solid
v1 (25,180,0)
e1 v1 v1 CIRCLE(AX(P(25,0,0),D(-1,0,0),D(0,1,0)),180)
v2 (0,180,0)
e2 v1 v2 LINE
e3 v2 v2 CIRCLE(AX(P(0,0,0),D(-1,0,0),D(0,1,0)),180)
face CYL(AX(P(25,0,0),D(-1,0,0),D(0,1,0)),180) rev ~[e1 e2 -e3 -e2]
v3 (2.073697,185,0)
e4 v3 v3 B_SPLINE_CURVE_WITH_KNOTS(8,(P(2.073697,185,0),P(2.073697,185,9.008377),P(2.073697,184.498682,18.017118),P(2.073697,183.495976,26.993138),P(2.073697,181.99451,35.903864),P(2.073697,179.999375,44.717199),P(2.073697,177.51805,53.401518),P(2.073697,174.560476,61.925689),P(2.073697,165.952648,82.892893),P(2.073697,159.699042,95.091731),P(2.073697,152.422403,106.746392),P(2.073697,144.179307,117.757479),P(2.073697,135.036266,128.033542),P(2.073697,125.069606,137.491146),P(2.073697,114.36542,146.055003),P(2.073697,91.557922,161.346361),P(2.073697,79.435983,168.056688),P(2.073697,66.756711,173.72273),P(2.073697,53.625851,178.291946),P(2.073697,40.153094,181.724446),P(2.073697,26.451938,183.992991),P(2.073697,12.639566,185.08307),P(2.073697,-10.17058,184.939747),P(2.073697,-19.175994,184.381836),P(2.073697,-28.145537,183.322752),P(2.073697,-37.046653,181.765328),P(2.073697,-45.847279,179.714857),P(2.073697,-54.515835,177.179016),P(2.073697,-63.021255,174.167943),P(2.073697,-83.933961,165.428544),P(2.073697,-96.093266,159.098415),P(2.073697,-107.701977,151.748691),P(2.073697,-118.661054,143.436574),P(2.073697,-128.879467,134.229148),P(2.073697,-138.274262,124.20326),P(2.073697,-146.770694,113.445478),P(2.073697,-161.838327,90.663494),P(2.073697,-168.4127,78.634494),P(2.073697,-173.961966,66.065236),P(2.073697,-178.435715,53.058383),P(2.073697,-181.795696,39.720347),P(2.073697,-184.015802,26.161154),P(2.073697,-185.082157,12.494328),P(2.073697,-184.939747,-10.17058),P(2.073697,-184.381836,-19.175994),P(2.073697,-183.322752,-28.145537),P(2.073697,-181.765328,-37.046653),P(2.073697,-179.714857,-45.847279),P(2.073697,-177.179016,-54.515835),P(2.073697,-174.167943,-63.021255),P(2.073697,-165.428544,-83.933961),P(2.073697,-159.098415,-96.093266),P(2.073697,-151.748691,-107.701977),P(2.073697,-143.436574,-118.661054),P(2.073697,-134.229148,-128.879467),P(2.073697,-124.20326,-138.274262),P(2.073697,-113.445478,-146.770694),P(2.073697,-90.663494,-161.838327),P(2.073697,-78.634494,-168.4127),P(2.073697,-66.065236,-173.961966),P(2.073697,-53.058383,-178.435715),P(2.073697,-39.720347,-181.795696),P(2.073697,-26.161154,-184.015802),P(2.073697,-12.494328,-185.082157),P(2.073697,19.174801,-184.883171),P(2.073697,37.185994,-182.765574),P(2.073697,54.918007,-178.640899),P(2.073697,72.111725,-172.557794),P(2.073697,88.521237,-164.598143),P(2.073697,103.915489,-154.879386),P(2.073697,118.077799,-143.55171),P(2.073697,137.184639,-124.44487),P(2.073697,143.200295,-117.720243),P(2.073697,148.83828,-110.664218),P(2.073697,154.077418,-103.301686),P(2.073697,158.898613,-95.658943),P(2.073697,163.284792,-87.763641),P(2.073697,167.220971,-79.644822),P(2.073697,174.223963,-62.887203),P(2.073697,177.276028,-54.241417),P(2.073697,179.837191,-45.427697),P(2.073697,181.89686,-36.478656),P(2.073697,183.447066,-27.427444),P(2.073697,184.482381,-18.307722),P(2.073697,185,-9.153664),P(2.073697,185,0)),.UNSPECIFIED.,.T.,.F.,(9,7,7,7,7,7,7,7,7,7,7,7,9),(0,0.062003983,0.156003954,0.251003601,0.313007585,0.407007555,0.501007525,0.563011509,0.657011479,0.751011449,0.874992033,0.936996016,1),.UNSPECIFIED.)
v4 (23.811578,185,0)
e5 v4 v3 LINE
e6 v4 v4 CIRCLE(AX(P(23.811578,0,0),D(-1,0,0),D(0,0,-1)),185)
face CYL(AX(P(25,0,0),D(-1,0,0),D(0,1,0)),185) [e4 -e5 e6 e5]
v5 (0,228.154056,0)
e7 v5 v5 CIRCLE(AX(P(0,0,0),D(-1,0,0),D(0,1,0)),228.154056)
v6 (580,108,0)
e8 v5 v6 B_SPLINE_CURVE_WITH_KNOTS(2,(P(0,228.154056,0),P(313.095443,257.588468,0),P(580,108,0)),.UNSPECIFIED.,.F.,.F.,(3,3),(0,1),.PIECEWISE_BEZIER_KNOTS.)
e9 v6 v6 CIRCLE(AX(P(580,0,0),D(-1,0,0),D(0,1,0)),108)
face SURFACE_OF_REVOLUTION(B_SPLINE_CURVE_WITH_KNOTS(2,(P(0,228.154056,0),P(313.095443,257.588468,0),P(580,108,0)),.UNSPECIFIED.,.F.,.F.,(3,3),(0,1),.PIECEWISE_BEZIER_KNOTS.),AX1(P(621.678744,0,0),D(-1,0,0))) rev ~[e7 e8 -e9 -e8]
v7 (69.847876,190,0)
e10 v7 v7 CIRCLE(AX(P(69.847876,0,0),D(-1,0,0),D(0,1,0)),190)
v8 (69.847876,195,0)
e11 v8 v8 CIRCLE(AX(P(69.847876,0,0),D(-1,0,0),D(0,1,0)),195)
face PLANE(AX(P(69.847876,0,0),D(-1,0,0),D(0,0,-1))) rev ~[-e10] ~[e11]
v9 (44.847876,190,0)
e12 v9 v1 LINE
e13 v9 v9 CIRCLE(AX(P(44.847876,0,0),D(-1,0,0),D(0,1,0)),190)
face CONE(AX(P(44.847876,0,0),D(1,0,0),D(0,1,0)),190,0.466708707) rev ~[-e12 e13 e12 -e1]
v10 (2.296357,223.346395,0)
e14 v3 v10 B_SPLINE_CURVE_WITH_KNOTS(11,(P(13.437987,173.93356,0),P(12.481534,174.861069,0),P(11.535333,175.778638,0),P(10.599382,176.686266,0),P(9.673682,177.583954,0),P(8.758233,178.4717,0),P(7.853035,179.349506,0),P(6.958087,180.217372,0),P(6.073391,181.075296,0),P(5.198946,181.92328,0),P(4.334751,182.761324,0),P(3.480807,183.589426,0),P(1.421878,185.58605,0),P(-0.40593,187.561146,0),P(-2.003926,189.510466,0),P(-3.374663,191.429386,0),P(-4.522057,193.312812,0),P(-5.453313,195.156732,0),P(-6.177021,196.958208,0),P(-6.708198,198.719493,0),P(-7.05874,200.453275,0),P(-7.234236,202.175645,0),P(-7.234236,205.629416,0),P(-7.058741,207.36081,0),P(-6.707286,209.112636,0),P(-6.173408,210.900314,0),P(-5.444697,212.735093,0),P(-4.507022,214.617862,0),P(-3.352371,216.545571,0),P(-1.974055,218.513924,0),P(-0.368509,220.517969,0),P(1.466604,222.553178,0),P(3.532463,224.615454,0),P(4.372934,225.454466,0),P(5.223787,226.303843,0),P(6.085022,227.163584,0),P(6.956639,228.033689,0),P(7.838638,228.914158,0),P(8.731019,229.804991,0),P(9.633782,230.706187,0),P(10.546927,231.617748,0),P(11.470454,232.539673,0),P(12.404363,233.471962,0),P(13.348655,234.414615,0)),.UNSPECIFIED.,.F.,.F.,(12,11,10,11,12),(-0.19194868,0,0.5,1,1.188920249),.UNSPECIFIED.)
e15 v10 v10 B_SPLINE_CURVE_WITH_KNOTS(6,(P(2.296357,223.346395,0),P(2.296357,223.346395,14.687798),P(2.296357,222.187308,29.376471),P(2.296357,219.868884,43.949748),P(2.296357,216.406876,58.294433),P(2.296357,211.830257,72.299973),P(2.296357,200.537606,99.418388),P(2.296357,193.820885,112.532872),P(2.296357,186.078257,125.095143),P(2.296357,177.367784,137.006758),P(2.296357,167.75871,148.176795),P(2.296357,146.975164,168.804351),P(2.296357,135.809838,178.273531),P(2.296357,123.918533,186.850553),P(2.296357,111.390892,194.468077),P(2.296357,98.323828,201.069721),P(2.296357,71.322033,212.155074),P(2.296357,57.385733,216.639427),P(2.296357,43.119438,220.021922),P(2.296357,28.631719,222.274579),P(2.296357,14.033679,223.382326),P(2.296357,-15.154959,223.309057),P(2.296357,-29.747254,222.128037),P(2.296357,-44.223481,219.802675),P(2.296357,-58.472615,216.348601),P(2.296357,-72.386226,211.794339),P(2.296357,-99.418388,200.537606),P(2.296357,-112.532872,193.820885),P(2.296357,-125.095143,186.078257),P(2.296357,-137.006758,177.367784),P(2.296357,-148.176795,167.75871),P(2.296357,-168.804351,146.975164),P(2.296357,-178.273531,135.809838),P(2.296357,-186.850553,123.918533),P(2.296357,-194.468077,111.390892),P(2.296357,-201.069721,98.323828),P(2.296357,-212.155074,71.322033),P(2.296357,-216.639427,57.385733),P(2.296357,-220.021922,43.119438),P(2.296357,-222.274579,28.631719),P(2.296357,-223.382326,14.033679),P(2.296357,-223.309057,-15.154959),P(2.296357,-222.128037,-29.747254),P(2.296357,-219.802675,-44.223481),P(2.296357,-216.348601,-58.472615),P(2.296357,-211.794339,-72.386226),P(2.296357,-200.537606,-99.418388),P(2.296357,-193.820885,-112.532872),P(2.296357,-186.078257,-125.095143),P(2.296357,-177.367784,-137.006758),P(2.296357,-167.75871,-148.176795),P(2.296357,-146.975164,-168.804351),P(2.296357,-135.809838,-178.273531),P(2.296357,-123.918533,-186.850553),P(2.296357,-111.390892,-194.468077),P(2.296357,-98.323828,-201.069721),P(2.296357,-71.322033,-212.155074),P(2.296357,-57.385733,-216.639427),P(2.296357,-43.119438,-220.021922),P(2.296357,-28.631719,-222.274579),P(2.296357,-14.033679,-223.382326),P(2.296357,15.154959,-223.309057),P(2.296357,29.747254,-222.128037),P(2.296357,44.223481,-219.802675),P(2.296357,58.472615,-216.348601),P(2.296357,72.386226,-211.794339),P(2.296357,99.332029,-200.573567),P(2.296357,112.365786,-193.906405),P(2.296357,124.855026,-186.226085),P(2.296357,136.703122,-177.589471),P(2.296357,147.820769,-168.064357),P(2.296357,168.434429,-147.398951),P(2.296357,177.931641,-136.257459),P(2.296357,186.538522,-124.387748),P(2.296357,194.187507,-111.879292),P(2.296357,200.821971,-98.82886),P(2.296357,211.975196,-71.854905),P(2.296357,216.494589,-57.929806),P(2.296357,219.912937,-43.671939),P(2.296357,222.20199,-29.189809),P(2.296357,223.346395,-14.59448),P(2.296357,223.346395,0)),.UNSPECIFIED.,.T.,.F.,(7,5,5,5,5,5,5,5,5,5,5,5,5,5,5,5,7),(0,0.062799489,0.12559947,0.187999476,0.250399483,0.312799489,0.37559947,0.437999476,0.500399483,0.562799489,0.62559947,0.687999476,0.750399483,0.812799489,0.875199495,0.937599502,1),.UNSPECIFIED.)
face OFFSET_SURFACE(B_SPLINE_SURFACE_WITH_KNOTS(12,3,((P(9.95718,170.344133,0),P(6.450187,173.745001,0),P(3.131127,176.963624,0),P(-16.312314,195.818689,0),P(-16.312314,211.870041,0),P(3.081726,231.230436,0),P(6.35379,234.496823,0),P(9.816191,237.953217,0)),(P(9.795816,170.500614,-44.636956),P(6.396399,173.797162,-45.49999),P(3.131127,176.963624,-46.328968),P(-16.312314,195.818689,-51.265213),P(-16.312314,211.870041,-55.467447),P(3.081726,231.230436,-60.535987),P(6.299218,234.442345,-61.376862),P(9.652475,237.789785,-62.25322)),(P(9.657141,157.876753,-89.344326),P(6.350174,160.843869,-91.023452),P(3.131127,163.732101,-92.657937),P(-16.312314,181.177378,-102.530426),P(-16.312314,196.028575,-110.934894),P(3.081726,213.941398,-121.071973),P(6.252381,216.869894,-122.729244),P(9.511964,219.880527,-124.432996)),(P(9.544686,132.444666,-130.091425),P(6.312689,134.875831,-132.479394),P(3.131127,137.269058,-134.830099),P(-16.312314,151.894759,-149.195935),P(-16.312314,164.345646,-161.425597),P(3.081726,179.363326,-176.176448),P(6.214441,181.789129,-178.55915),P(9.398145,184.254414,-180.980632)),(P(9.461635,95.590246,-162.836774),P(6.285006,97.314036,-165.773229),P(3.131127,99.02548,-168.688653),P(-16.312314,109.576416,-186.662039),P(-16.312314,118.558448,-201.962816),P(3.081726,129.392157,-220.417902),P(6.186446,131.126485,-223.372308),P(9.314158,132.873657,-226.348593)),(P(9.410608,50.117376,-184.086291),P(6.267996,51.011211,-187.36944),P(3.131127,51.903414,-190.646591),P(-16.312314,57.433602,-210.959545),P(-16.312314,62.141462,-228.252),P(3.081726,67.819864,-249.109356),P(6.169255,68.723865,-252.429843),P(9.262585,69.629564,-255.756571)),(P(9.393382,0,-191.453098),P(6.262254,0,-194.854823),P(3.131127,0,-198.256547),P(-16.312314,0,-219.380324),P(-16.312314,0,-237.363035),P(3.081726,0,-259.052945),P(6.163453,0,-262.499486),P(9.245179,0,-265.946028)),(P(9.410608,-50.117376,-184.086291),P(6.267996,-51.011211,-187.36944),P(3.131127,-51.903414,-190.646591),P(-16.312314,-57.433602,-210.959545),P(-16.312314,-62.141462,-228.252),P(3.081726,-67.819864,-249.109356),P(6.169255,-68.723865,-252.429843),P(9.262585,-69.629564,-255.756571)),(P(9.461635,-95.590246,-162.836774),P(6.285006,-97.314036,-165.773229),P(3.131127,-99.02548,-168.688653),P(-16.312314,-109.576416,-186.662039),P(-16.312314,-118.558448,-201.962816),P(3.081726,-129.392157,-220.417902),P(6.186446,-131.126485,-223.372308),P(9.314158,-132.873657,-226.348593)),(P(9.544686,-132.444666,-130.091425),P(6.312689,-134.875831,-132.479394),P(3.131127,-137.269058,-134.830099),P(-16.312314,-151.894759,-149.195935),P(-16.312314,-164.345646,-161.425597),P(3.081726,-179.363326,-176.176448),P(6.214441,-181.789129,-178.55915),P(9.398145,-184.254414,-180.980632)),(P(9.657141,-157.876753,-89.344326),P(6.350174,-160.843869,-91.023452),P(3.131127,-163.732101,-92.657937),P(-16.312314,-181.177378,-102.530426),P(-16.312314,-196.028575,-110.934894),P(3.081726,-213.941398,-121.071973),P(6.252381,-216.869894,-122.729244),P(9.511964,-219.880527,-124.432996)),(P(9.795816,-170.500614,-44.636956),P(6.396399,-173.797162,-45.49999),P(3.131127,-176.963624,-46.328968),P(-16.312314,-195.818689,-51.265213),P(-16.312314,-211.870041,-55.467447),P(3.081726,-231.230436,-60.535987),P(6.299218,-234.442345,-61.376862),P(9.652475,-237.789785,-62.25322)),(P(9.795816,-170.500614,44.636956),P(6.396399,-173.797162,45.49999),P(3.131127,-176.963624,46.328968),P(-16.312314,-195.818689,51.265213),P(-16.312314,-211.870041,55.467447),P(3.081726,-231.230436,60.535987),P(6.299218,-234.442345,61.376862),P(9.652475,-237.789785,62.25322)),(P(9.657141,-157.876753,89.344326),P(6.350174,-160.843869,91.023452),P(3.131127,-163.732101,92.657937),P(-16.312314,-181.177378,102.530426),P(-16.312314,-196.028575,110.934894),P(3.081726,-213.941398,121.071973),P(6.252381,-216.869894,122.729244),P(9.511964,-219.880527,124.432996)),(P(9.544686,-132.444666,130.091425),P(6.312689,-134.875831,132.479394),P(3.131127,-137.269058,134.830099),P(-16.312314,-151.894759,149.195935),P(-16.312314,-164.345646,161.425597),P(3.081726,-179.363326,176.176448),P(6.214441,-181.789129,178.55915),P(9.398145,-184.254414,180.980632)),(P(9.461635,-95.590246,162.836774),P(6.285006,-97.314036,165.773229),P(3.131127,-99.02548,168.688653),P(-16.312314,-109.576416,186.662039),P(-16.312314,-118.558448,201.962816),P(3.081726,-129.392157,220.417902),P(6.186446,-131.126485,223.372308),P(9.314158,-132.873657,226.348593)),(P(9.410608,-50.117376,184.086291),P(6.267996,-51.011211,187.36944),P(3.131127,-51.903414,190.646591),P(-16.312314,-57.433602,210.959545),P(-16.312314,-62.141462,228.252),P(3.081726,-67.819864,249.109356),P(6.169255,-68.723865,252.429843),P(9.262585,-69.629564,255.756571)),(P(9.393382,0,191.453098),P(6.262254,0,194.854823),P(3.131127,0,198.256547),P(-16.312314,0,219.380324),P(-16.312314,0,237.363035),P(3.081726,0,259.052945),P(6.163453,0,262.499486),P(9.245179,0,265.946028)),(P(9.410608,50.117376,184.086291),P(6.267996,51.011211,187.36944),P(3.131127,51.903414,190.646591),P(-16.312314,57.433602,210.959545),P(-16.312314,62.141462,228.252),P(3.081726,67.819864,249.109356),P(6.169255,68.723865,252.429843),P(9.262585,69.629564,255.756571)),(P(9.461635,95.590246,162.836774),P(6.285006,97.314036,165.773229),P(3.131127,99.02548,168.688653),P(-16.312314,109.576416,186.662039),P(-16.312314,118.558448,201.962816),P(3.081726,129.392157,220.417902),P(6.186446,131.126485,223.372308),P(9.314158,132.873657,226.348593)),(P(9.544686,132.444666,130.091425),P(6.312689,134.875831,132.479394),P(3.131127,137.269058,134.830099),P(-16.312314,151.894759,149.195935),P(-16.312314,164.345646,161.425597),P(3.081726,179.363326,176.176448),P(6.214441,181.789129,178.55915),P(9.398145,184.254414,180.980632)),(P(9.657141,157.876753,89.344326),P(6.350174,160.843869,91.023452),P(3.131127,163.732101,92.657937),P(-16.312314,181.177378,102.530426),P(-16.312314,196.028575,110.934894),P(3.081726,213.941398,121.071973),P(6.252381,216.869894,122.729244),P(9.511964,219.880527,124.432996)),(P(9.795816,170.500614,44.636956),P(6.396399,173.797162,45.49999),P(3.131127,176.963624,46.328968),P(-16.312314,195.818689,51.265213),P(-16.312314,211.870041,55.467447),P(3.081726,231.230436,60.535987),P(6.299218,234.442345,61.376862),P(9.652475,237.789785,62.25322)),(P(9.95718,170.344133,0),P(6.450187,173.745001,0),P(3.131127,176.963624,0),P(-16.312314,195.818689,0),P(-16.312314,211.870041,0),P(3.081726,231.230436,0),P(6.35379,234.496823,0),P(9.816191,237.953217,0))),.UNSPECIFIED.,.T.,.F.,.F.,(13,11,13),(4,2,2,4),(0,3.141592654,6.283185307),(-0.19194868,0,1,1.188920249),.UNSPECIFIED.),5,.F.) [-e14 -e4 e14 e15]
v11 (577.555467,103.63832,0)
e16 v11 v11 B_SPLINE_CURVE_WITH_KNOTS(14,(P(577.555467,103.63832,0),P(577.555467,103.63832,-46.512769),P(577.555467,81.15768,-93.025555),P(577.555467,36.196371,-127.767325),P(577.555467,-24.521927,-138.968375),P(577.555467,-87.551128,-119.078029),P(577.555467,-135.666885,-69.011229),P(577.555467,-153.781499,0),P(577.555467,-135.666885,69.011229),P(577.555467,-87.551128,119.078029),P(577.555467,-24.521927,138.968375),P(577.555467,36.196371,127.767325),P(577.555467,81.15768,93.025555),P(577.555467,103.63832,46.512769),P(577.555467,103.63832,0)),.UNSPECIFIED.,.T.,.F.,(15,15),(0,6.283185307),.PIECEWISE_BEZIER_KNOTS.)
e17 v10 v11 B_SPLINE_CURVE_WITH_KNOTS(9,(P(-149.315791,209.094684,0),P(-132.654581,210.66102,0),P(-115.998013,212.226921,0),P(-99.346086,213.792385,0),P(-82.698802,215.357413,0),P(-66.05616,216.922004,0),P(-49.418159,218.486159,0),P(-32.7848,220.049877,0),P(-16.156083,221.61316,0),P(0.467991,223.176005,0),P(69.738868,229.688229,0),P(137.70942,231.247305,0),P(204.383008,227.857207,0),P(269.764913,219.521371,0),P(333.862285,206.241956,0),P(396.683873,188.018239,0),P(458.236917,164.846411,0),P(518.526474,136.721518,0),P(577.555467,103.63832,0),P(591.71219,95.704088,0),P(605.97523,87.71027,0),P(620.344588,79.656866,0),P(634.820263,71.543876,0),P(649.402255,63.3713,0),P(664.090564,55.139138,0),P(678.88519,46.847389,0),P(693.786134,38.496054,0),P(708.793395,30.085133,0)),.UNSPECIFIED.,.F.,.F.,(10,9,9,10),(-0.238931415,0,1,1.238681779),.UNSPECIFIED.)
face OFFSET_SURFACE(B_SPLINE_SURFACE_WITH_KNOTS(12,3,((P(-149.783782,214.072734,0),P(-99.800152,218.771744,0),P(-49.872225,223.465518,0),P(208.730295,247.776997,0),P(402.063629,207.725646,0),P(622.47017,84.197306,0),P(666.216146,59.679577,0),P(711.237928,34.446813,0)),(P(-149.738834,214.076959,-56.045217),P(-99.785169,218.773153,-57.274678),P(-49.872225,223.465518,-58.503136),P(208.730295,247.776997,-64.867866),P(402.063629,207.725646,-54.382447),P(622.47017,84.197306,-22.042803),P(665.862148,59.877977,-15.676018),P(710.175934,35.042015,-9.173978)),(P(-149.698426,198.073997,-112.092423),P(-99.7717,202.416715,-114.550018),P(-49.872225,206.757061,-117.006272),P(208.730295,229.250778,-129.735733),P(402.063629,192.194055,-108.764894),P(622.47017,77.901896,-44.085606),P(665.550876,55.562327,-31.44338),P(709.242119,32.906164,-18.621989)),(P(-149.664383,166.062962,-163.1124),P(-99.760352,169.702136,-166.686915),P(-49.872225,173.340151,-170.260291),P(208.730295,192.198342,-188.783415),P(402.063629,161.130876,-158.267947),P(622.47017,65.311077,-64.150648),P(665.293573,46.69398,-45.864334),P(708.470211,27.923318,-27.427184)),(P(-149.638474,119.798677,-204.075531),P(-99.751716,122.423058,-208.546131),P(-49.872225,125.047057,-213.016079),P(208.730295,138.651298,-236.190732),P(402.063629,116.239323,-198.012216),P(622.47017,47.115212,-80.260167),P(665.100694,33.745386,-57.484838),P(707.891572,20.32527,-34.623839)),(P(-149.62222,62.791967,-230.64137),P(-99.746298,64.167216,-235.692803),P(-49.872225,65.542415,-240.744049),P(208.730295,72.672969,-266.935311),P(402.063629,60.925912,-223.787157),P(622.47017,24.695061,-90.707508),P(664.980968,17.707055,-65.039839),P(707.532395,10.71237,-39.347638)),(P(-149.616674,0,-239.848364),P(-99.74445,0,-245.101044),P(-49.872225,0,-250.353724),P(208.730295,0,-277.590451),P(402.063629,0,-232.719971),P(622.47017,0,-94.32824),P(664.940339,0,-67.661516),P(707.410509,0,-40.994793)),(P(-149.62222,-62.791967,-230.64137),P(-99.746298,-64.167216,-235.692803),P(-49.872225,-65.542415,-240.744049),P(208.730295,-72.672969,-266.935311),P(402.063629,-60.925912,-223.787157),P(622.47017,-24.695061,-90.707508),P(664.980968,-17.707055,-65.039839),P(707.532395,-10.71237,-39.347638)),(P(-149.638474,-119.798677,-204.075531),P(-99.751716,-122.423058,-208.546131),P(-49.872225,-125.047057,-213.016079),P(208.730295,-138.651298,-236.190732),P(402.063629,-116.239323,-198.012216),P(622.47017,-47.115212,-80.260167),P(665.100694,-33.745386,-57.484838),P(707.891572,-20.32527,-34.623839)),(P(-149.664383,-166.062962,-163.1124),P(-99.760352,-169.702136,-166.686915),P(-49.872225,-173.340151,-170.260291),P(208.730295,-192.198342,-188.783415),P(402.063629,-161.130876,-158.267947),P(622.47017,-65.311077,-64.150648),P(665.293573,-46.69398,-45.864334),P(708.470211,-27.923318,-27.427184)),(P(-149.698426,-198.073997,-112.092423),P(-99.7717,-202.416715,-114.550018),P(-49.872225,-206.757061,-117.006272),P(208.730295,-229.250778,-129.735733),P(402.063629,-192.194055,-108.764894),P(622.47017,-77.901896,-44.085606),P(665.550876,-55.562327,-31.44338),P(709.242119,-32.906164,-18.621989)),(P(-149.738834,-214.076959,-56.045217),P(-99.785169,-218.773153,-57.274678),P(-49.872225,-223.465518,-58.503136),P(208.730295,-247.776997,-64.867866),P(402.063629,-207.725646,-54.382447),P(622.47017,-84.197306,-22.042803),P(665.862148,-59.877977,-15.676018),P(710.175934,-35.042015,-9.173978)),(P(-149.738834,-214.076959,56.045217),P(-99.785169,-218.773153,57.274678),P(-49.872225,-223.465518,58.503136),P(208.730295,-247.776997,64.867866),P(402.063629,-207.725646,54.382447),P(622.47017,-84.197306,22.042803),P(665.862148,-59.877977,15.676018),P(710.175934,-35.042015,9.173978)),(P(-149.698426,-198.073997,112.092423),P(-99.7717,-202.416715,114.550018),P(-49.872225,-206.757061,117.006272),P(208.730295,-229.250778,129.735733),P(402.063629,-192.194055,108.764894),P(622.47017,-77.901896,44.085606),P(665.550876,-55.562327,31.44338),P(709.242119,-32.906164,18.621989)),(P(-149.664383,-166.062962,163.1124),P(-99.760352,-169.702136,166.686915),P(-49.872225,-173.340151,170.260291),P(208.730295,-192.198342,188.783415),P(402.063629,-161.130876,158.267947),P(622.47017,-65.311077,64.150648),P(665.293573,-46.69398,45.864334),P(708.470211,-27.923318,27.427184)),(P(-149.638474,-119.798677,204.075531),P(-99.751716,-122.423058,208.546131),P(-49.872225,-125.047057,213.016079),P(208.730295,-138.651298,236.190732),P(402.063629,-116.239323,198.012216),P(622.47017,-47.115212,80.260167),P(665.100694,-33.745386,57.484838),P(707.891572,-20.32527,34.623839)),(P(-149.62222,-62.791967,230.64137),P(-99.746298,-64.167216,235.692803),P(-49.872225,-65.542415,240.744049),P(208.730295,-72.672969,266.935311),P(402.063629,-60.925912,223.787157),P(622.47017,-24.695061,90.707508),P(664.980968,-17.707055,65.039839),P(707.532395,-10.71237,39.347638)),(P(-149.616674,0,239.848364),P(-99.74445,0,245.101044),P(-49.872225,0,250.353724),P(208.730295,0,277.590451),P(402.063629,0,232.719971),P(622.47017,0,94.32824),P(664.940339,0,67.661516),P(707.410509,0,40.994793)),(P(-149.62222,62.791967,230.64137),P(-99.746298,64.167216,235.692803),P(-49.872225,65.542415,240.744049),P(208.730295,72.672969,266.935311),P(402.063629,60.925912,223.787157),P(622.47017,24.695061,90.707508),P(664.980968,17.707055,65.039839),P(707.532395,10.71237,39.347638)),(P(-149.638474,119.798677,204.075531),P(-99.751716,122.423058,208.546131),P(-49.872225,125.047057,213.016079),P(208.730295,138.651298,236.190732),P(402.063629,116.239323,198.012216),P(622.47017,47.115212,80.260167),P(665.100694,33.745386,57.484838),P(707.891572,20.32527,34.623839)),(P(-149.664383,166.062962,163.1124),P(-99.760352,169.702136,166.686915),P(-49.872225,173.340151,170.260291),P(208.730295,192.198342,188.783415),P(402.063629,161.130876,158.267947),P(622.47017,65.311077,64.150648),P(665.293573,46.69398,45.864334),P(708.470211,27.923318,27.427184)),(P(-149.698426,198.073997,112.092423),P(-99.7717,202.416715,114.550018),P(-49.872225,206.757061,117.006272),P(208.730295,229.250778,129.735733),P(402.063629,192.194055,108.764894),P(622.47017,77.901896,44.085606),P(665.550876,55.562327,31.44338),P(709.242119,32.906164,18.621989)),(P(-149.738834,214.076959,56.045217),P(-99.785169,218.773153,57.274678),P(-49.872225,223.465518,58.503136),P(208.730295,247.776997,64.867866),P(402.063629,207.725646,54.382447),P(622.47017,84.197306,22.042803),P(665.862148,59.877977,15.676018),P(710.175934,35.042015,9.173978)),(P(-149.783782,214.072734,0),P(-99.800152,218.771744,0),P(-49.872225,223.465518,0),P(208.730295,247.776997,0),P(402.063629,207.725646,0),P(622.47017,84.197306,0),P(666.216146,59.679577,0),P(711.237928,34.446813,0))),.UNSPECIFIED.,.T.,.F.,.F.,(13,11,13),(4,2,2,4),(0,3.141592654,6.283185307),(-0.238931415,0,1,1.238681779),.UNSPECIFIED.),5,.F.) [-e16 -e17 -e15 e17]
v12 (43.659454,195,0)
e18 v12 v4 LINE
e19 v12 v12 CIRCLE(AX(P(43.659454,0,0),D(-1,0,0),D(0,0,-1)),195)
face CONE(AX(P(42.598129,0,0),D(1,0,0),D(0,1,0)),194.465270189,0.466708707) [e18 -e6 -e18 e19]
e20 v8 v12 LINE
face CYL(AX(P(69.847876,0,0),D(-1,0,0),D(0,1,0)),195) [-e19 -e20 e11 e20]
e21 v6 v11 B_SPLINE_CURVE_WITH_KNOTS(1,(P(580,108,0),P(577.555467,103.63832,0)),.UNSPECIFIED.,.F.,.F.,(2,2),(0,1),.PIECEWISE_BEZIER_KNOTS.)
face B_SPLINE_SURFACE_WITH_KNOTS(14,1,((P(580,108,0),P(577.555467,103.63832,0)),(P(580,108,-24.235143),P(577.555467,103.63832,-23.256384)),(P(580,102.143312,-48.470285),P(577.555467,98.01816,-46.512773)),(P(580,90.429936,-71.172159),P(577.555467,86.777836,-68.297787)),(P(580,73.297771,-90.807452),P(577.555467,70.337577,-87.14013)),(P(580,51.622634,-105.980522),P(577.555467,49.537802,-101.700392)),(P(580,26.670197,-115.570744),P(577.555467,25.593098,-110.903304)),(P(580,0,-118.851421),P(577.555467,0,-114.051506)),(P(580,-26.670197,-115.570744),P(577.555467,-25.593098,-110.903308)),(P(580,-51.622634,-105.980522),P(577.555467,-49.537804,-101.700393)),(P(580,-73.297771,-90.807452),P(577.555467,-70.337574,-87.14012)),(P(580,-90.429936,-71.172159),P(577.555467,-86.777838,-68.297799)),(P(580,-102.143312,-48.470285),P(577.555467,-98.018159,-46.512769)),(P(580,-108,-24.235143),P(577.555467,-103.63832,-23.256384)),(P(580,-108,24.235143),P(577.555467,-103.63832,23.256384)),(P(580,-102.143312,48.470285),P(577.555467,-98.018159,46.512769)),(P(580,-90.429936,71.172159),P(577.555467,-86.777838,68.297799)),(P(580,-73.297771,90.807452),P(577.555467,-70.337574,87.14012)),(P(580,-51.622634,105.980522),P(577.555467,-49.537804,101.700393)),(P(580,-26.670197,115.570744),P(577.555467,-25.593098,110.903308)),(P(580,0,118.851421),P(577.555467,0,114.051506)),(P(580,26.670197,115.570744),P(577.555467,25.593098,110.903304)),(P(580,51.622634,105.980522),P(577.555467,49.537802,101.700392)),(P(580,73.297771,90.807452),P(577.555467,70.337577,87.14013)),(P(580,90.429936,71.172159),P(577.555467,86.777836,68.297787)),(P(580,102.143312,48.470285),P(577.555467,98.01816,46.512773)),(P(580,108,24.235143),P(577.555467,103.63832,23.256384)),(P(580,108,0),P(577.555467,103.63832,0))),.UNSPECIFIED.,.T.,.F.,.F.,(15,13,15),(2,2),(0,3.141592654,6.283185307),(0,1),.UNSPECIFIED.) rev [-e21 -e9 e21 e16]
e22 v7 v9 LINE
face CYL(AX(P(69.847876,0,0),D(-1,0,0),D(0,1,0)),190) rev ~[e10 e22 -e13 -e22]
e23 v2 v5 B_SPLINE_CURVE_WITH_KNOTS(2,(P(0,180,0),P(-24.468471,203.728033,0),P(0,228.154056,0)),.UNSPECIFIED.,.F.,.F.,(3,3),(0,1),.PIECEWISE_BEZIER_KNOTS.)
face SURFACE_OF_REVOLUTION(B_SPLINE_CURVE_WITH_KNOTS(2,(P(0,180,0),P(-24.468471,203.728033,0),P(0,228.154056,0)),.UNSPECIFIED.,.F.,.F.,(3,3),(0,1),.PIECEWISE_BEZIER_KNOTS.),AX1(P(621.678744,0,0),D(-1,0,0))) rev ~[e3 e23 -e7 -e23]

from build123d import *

# Parameters (mm, degrees)
THICKEN1_T1 = 5


with BuildPart() as body_1:
    # Surface-Revolve1: a surface, the sketch's curves turned about an axis
    with BuildLine(Plane.XY, mode=Mode.PRIVATE) as surface_revolve1_1_path:
        Line((69.847875936, 190), (44.847875936, 190))
        Line((44.847875936, 190), (25, 180))
        Line((25, 180), (0, 180))
        add(Edge.make_bspline(
            [(0, 180), (-24.468471325, 203.728033272), (0, 228.154055572)],
            knots=[0, 0, 0, 1, 1, 1], degree=2))
        add(Edge.make_bspline(
            [(0, 228.154055572), (313.095443169, 257.588468362), (580, 108)],
            knots=[0, 0, 0, 1, 1, 1], degree=2))
    surface_revolve1_1 = Shell.revolve(surface_revolve1_1_path.wire(), 360, Axis((621.678743961, 0, 0), (-1, 0, 0)))
    add(Solid.thicken(surface_revolve1_1, THICKEN1_T1))


solid = body_1.part
